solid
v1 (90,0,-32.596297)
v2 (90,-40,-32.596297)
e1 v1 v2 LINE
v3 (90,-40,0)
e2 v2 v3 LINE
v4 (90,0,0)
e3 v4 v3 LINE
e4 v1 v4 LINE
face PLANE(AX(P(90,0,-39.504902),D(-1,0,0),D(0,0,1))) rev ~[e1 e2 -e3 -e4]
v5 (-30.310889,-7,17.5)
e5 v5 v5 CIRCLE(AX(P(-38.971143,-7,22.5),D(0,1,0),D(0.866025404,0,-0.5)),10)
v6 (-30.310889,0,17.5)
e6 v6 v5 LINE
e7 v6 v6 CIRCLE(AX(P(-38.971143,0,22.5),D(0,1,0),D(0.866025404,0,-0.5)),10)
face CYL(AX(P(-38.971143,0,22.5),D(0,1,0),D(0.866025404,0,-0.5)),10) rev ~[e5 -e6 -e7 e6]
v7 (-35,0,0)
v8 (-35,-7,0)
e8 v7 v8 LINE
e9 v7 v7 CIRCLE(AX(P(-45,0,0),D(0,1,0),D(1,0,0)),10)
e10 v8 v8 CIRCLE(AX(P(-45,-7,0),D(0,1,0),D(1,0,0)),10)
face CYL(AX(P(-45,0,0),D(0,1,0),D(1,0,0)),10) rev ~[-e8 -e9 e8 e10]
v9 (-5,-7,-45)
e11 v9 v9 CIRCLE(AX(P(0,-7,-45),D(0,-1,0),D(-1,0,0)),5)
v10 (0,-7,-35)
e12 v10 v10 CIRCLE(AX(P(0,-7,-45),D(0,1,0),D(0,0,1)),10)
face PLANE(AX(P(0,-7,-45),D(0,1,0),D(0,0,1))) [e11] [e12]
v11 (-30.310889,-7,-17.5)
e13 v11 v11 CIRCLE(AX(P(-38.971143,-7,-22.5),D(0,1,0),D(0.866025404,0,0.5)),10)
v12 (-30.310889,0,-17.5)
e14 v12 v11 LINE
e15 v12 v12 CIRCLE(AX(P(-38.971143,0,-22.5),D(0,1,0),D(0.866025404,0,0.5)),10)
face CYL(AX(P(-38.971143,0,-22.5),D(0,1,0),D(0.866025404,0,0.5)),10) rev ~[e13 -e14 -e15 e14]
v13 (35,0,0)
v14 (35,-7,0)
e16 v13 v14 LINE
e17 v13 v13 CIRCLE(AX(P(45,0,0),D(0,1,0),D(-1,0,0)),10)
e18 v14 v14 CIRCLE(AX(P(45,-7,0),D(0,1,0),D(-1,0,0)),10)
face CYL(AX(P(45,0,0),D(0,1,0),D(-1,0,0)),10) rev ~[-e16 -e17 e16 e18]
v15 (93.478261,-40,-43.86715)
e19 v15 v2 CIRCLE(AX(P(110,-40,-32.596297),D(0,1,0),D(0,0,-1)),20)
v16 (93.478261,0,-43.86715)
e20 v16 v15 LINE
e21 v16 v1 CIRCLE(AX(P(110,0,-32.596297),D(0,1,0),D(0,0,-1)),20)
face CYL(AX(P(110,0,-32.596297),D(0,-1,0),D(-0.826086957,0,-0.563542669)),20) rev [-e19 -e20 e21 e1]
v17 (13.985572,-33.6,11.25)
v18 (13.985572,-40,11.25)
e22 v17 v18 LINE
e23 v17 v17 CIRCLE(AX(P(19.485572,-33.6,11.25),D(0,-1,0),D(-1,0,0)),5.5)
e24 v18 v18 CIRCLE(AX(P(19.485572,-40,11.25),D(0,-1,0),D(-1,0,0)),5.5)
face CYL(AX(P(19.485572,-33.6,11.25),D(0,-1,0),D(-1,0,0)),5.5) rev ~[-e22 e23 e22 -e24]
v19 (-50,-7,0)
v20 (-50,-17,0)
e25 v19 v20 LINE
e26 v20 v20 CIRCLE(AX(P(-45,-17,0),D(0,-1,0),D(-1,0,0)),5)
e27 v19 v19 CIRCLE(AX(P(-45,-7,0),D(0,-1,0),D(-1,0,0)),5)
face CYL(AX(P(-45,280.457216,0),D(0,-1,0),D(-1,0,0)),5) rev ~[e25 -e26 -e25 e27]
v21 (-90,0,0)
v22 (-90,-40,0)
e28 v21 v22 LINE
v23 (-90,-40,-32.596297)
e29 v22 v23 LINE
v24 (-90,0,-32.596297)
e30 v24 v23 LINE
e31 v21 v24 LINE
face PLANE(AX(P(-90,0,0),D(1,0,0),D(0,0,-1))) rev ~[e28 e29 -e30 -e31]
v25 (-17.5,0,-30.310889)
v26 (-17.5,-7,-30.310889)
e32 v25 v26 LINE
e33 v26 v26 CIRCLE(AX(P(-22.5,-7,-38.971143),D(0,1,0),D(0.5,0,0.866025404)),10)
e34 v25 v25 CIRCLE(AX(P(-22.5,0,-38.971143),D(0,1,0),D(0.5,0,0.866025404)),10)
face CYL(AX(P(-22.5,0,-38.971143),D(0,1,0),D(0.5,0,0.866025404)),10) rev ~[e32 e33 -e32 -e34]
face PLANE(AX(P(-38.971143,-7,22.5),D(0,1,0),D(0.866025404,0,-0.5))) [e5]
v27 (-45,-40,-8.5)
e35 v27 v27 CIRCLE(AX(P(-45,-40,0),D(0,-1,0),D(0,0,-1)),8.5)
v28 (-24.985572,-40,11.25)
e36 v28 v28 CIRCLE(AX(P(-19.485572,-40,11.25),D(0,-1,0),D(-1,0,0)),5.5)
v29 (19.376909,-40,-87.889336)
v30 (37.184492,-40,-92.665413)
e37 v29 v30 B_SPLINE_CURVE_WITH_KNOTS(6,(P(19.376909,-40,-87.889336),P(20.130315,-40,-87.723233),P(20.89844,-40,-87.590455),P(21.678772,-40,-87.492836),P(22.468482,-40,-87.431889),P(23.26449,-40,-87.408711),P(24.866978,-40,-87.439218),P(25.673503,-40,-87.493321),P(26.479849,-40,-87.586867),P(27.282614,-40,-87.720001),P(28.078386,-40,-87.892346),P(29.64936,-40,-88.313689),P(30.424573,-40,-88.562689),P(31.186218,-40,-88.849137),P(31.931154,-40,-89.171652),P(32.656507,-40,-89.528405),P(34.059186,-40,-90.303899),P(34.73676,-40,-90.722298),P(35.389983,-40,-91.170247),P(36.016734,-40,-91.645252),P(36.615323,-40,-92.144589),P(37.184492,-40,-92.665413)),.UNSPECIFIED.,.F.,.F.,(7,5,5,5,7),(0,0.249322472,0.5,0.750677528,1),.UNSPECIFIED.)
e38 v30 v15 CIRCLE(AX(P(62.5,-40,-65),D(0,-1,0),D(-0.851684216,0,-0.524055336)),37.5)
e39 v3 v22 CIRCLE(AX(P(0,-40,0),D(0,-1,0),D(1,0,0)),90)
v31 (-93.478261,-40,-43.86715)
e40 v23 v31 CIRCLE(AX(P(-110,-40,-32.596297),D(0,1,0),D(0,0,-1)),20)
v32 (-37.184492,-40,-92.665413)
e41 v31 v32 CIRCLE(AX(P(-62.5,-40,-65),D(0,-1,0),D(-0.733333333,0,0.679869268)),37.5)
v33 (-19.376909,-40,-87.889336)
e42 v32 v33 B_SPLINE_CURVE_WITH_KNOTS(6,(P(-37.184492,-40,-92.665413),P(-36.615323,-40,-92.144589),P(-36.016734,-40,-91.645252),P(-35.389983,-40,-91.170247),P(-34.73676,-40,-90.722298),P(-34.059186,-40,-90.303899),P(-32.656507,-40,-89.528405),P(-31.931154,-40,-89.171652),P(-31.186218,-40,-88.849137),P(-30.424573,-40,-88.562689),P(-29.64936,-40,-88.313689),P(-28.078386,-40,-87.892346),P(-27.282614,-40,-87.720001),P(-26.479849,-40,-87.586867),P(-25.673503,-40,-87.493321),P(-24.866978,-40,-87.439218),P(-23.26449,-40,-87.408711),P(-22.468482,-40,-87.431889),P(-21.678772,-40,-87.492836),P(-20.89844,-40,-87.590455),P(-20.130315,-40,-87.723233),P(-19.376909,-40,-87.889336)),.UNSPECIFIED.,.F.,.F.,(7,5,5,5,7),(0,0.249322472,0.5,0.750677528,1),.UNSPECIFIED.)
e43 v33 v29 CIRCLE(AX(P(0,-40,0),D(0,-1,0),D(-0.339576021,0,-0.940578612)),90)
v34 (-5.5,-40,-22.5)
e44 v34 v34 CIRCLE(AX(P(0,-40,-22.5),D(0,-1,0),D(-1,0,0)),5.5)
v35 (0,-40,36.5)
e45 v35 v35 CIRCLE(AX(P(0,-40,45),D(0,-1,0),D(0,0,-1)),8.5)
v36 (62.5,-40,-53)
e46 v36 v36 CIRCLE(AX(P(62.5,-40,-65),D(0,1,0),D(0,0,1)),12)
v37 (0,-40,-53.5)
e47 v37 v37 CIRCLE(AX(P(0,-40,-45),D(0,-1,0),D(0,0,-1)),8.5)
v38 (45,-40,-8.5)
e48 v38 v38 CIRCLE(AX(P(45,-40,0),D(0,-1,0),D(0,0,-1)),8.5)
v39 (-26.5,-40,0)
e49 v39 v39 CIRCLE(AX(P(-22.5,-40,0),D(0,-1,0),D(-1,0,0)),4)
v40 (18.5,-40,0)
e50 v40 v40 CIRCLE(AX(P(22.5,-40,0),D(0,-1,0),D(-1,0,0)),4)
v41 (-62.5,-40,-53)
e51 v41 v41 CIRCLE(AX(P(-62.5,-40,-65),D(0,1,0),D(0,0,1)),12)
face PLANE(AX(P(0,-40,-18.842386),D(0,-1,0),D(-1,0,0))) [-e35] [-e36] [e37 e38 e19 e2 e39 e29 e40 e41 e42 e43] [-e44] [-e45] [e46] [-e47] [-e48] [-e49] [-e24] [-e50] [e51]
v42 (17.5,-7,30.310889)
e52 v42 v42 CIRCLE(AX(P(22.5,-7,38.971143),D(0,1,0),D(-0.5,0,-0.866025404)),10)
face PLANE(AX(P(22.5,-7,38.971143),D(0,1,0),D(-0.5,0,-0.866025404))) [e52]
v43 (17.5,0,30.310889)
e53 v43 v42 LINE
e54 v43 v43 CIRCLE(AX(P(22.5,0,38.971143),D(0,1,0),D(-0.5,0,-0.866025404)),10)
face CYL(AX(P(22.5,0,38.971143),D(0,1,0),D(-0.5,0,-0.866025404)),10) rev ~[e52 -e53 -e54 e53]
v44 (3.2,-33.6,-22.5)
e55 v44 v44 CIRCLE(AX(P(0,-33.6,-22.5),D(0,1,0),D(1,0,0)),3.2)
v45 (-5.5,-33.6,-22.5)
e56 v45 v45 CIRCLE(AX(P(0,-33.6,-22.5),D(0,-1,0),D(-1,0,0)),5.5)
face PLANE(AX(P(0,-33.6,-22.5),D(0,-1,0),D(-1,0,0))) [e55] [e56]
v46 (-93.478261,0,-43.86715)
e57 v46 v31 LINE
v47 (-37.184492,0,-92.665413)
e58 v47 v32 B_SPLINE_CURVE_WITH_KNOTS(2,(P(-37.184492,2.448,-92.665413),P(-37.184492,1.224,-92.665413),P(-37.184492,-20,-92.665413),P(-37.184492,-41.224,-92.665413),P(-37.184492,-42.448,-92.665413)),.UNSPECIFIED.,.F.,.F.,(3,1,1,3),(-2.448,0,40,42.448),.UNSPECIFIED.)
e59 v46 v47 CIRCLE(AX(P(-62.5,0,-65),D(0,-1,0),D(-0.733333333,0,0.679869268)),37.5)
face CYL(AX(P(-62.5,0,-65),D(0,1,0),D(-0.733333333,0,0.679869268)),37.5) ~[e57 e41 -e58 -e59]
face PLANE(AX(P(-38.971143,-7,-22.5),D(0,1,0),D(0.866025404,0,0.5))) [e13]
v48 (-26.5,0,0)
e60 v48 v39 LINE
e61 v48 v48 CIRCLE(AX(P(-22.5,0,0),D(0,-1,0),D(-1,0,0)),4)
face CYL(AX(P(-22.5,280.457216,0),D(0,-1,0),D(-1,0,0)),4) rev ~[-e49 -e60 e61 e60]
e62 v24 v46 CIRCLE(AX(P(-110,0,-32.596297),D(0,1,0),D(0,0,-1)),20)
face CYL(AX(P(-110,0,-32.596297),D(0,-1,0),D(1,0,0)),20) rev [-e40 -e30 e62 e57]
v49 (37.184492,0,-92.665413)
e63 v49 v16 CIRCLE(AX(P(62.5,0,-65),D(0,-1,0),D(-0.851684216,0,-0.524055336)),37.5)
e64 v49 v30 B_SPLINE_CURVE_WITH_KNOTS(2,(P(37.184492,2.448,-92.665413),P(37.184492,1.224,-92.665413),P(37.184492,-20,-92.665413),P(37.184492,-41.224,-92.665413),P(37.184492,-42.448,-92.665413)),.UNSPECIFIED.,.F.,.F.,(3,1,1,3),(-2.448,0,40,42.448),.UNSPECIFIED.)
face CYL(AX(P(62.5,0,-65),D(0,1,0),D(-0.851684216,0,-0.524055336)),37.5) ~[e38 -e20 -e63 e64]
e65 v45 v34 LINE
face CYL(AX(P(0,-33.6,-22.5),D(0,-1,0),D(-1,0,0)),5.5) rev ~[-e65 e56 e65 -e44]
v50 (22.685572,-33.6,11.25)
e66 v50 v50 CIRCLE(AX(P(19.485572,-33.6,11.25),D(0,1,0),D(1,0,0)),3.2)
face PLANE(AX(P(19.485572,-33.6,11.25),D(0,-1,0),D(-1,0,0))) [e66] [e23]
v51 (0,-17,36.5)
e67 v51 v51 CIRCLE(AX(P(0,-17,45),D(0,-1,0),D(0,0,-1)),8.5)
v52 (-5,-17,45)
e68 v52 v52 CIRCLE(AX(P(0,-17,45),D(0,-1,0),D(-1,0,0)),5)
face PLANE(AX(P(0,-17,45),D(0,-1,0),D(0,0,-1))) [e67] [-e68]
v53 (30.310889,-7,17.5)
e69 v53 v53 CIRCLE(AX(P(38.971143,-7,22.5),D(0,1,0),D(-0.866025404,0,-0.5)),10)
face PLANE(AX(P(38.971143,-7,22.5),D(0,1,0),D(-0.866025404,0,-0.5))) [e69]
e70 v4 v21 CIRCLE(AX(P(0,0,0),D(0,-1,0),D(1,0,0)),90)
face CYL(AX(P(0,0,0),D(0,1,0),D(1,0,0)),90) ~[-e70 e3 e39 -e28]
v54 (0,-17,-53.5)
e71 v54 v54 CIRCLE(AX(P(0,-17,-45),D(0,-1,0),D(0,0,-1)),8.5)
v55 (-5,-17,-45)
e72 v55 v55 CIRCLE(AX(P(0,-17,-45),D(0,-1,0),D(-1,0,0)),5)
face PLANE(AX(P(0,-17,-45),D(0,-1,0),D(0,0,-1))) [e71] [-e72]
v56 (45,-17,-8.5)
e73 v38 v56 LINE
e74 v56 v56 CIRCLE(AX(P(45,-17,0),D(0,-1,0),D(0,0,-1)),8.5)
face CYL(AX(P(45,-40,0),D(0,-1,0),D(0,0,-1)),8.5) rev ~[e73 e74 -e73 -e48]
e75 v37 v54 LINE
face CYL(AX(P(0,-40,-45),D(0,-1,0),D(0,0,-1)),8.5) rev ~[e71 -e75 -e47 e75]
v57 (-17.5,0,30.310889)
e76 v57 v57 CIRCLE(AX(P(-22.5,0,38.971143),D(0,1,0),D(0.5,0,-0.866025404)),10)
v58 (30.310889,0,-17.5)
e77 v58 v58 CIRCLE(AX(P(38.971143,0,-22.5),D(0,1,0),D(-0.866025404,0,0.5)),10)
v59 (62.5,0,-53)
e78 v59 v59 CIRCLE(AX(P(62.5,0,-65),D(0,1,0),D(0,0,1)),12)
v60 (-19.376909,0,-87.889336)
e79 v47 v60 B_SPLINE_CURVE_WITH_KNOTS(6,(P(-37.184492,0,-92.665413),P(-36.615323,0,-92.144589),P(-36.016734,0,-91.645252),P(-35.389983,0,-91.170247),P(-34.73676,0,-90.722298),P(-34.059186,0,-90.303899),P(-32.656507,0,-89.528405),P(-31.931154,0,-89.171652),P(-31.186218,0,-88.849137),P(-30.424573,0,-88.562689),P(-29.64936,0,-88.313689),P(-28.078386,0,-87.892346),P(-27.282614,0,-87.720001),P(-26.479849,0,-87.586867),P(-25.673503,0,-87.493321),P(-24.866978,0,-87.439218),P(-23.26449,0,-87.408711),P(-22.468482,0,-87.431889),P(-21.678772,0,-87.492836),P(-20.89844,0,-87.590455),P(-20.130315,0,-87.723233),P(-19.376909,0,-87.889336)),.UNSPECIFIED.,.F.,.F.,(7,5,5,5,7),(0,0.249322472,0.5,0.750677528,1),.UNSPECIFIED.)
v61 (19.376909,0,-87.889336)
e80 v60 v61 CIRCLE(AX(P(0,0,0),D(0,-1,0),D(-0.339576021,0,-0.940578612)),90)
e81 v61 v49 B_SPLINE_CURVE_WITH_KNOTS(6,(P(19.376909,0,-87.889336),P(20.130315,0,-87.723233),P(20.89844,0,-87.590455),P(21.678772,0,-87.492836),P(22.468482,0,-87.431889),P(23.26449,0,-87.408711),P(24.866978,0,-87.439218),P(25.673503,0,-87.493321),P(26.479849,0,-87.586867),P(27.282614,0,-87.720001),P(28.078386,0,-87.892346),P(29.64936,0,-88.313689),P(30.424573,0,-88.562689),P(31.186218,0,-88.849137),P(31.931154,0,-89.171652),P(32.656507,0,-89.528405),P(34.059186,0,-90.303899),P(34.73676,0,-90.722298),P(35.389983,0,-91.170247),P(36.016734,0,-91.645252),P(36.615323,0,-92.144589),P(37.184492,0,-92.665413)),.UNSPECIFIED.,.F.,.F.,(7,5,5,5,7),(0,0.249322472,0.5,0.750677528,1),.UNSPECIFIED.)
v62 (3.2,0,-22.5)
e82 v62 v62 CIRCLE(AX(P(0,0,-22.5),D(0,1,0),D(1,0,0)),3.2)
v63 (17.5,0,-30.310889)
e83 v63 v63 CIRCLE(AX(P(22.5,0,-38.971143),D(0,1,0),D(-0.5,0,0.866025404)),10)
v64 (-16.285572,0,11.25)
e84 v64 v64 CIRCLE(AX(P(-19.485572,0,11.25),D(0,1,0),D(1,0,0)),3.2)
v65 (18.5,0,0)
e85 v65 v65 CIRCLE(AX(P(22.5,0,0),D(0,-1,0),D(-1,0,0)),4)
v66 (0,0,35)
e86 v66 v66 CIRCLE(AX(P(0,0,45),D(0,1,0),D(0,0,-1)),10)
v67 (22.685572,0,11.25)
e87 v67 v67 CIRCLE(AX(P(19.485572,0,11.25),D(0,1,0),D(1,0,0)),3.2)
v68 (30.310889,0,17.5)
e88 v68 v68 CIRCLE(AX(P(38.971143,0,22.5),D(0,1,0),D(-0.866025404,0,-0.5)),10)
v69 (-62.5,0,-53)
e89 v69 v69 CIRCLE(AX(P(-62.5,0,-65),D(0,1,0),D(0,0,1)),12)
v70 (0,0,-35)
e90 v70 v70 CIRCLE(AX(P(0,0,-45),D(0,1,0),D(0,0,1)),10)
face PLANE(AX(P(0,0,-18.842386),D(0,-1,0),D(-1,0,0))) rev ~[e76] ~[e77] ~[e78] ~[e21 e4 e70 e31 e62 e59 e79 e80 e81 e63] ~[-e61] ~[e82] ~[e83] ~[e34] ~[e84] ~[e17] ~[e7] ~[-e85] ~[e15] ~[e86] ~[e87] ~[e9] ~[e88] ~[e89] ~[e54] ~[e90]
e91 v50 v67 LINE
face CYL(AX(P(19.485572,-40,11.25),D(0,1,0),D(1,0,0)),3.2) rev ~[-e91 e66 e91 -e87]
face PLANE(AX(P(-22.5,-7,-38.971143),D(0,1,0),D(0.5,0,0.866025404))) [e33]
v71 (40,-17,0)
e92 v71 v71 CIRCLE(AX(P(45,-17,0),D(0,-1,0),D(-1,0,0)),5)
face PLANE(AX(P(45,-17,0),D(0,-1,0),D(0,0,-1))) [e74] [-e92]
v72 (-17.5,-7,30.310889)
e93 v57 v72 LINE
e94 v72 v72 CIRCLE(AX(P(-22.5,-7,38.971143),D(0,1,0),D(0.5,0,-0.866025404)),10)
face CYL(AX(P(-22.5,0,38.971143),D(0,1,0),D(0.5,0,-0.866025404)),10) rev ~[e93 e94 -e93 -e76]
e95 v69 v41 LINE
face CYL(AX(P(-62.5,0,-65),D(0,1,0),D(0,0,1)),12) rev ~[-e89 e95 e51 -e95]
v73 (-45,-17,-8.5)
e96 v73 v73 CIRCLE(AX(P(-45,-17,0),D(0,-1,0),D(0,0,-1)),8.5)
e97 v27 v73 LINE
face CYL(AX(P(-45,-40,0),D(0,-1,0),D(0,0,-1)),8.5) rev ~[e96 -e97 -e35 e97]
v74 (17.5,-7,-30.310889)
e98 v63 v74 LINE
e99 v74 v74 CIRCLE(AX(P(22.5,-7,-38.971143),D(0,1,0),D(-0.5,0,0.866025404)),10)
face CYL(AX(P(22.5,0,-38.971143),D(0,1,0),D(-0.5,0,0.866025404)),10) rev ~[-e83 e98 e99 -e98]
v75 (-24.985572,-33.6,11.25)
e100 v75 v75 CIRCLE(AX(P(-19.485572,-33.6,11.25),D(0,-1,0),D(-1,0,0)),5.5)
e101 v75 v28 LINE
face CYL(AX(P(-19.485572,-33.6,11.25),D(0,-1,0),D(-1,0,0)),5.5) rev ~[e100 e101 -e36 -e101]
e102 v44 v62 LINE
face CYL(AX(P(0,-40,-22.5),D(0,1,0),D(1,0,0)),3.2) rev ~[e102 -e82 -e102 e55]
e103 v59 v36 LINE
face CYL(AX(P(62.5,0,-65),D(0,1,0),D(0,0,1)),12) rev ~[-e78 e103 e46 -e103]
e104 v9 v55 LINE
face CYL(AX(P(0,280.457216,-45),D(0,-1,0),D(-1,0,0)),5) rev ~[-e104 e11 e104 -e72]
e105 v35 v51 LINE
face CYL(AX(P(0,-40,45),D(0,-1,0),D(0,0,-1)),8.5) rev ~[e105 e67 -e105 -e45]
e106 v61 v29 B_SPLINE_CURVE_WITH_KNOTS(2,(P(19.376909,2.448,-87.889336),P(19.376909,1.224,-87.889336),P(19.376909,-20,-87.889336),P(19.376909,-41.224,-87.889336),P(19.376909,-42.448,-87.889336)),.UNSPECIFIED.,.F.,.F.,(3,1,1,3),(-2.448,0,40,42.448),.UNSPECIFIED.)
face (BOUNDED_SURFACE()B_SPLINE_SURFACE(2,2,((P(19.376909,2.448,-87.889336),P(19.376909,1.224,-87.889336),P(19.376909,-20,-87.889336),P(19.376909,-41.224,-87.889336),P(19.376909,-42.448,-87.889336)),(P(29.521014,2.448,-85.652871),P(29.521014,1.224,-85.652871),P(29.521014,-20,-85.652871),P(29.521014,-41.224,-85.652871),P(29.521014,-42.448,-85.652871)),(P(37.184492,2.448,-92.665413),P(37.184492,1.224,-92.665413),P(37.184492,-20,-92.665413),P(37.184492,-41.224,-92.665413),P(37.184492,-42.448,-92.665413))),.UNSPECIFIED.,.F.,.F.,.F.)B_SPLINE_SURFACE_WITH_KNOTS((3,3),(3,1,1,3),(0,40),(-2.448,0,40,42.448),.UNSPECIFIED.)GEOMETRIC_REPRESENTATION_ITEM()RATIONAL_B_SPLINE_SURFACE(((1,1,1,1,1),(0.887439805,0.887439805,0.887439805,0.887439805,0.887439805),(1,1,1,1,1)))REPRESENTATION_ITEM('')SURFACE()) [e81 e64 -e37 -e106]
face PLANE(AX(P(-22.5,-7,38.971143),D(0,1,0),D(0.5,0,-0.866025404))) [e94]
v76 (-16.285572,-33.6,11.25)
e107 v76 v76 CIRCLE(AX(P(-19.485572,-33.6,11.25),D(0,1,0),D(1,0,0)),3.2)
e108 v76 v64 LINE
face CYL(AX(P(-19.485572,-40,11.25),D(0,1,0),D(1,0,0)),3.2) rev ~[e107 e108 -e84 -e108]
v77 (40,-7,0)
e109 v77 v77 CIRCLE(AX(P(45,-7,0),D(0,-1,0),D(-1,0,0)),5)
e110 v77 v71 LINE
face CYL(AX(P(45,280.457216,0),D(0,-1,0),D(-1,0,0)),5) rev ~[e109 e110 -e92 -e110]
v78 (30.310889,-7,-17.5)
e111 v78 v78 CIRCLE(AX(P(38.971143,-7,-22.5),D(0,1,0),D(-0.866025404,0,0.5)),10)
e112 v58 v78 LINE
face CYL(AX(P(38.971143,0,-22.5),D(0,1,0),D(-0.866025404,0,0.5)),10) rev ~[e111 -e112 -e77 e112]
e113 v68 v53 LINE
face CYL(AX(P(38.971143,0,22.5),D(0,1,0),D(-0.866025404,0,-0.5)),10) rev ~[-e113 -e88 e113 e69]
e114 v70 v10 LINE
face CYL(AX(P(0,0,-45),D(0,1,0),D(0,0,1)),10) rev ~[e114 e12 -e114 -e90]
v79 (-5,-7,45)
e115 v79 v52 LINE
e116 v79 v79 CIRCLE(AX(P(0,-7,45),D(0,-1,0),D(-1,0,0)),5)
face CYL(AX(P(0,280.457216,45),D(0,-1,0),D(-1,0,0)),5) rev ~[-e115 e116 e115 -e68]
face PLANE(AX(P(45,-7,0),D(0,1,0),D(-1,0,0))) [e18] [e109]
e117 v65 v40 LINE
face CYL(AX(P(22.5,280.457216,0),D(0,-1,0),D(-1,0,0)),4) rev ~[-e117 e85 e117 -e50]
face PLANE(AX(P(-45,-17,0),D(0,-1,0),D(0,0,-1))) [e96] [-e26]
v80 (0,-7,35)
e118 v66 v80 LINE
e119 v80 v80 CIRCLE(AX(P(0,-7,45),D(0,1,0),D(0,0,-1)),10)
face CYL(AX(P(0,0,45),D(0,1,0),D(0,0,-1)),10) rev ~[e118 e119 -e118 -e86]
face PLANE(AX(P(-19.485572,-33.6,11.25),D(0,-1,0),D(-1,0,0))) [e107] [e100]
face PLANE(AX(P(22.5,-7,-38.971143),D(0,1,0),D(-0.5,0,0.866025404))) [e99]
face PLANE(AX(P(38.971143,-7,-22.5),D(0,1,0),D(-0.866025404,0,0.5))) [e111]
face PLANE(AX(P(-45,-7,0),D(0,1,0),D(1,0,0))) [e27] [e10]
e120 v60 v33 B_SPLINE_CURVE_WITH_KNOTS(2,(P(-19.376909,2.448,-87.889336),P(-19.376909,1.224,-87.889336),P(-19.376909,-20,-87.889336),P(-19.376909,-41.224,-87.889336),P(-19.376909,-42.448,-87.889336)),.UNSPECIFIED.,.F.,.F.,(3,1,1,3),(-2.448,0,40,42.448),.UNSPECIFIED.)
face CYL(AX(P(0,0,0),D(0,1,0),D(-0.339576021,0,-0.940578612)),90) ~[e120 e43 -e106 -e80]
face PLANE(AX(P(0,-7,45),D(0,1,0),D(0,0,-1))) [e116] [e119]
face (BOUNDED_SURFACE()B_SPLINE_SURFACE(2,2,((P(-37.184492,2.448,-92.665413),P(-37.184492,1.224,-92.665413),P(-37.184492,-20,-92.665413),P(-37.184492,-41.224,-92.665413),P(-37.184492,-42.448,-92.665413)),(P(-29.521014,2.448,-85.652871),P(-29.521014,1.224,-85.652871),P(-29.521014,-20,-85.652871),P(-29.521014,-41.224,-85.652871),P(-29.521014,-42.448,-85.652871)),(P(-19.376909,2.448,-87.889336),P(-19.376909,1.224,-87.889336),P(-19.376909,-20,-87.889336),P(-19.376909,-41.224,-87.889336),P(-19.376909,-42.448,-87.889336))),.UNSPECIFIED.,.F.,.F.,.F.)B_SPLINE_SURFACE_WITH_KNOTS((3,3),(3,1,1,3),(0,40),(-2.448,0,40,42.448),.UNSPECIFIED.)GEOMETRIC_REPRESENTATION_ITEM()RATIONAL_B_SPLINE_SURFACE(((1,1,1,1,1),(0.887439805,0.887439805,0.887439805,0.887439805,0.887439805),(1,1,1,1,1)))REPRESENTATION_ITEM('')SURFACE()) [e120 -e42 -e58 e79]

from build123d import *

# Parameters (mm, degrees)
BOSS_EXTRUDE1_DEPTH                                 = 40
FILLET1_R                                           = 20
CUT_EXTRUDE2_REACH                                  = 150.682
SKETCH3_R                                           = 12
SKETCH4_R                                           = 10
CUT_EXTRUDE3_DEPTH                                  = 7
CIRPATTERN1_COUNT                                   = 12
F_10_0_10_DIAMETER_HOLE1_D                          = 10
SKETCH8_R                                           = 8.5
CUT_EXTRUDE4_DEPTH                                  = 23
CBORE_FOR_M6_HEX_SOCKET_HEAD_CAP_SCREW1_D           = 6.4
CBORE_FOR_M6_HEX_SOCKET_HEAD_CAP_SCREW1_CBORE_D     = 11
CBORE_FOR_M6_HEX_SOCKET_HEAD_CAP_SCREW1_CBORE_DEPTH = 6.4
F_8_0MM_DOWEL_HOLE1_D                               = 8


with BuildPart() as part:
    # Sketch1 → Boss-Extrude1 (new body)
    with BuildSketch(Plane(origin=(0, 0, 0), x_dir=(1, 0, 0), z_dir=(0, 1, 0))):
        with BuildLine():
            Line((-90, 0), (-90, 39.504902432))
            ThreePointArc((-90, 39.504902432), (-85.182396525, 94.862332258), (-30.561841884, 84.652075111))
            ThreePointArc((-30.561841884, 84.652075111), (0, 90), (30.561841884, 84.652075111))
            ThreePointArc((30.561841884, 84.652075111), (85.182396525, 94.862332258), (90, 39.504902432))
            Line((90, 39.504902432), (90, 0))
            ThreePointArc((90, 0), (0, -90), (-90, 0))
        make_face()
    extrude(amount=-BOSS_EXTRUDE1_DEPTH)

    # Fillet1
    fillet1_edges = [part.edges().sort_by_distance(p)[0] for p in [
        (30.561841884, -20, -84.652075111),
        (90, -20, -39.504902432),
        (-90, -20, -39.504902432),
        (-30.561841884, -20, -84.652075111),
    ]]
    fillet(fillet1_edges, radius=FILLET1_R)

    # Sketch3 → Cut-Extrude2 (cut, up to next)
    with BuildSketch(Plane(origin=(0, 0, 0), x_dir=(1, 0, 0), z_dir=(0, 1, 0)), mode=Mode.PRIVATE) as cut_extrude2_sk1:
        with Locations(Location((-62.5, 65, 0), (0, 0, 270))):
            Circle(SKETCH3_R)
    cut_extrude2_tool1 = extrude(cut_extrude2_sk1.sketch, amount=-CUT_EXTRUDE2_REACH, mode=Mode.PRIVATE) & part.part
    # Sketch3 → Cut-Extrude2 (cut, up to next)
    with BuildSketch(Plane(origin=(0, 0, 0), x_dir=(1, 0, 0), z_dir=(0, 1, 0)), mode=Mode.PRIVATE) as cut_extrude2_sk2:
        with Locations(Location((62.5, 65, 0), (0, 0, 270))):
            Circle(SKETCH3_R)
    cut_extrude2_tool2 = extrude(cut_extrude2_sk2.sketch, amount=-CUT_EXTRUDE2_REACH, mode=Mode.PRIVATE) & part.part
    add(cut_extrude2_tool1.solids().sort_by_distance((-62.5, 0, -65))[0], mode=Mode.SUBTRACT)
    add(cut_extrude2_tool2.solids().sort_by_distance((62.5, 0, -65))[0], mode=Mode.SUBTRACT)

    # Sketch4 → Cut-Extrude3 (cut)
    with BuildSketch(Plane(origin=(0, 0, 0), x_dir=(1, 0, 0), z_dir=(0, 1, 0))):
        with Locations(Location((0, 45, 0), (0, 0, 270))):
            Circle(SKETCH4_R)
    cut_extrude3 = extrude(amount=-CUT_EXTRUDE3_DEPTH, mode=Mode.SUBTRACT)

    # CirPattern1: Cut-Extrude3 ×12 about axis
    cirpattern1_axis = Axis((0, 0, 0), (0, 1, 0))
    for i in range(1, CIRPATTERN1_COUNT):
        add(cut_extrude3.rotate(cirpattern1_axis, i * 360 / CIRPATTERN1_COUNT), mode=Mode.SUBTRACT)

    # Ø10.0 (10) Diameter Hole1 (through all)
    with Locations(Plane(origin=(0, 0, 0), x_dir=(1, 0, 0), z_dir=(0, 1, 0))):
        with Locations((0, 45), (45, 0), (0, -45), (-45, 0)):
            Hole(F_10_0_10_DIAMETER_HOLE1_D / 2)

    # Sketch8 → Cut-Extrude4 (cut)
    with BuildSketch(Plane.XZ.offset(40)):
        with Locations(Location((0, 45, 0), (0, 0, 270))):
            Circle(SKETCH8_R)
        with Locations(Location((45, 0, 0), (0, 0, 270))):
            Circle(SKETCH8_R)
        with Locations(Location((0, -45, 0), (0, 0, 270))):
            Circle(SKETCH8_R)
        with Locations(Location((-45, 0, 0), (0, 0, 270))):
            Circle(SKETCH8_R)
    extrude(amount=-CUT_EXTRUDE4_DEPTH, mode=Mode.SUBTRACT)

    # CBORE for M6 Hex Socket Head Cap Screw1 (through all)
    with Locations(Plane(origin=(0, -40, 0), x_dir=(-1, 0, 0), z_dir=(0, -1, 0))):
        with Locations((0, 22.5), (-19.485571585, -11.25), (19.485571585, -11.25)):
            CounterBoreHole(CBORE_FOR_M6_HEX_SOCKET_HEAD_CAP_SCREW1_D / 2, CBORE_FOR_M6_HEX_SOCKET_HEAD_CAP_SCREW1_CBORE_D / 2, CBORE_FOR_M6_HEX_SOCKET_HEAD_CAP_SCREW1_CBORE_DEPTH)

    # Ø8.0mm Dowel Hole1 (through all)
    with Locations(Plane(origin=(0, 0, 0), x_dir=(1, 0, 0), z_dir=(0, 1, 0))):
        with Locations((-22.5, 0), (22.5, 0)):
            Hole(F_8_0MM_DOWEL_HOLE1_D / 2)


solid = part.part
